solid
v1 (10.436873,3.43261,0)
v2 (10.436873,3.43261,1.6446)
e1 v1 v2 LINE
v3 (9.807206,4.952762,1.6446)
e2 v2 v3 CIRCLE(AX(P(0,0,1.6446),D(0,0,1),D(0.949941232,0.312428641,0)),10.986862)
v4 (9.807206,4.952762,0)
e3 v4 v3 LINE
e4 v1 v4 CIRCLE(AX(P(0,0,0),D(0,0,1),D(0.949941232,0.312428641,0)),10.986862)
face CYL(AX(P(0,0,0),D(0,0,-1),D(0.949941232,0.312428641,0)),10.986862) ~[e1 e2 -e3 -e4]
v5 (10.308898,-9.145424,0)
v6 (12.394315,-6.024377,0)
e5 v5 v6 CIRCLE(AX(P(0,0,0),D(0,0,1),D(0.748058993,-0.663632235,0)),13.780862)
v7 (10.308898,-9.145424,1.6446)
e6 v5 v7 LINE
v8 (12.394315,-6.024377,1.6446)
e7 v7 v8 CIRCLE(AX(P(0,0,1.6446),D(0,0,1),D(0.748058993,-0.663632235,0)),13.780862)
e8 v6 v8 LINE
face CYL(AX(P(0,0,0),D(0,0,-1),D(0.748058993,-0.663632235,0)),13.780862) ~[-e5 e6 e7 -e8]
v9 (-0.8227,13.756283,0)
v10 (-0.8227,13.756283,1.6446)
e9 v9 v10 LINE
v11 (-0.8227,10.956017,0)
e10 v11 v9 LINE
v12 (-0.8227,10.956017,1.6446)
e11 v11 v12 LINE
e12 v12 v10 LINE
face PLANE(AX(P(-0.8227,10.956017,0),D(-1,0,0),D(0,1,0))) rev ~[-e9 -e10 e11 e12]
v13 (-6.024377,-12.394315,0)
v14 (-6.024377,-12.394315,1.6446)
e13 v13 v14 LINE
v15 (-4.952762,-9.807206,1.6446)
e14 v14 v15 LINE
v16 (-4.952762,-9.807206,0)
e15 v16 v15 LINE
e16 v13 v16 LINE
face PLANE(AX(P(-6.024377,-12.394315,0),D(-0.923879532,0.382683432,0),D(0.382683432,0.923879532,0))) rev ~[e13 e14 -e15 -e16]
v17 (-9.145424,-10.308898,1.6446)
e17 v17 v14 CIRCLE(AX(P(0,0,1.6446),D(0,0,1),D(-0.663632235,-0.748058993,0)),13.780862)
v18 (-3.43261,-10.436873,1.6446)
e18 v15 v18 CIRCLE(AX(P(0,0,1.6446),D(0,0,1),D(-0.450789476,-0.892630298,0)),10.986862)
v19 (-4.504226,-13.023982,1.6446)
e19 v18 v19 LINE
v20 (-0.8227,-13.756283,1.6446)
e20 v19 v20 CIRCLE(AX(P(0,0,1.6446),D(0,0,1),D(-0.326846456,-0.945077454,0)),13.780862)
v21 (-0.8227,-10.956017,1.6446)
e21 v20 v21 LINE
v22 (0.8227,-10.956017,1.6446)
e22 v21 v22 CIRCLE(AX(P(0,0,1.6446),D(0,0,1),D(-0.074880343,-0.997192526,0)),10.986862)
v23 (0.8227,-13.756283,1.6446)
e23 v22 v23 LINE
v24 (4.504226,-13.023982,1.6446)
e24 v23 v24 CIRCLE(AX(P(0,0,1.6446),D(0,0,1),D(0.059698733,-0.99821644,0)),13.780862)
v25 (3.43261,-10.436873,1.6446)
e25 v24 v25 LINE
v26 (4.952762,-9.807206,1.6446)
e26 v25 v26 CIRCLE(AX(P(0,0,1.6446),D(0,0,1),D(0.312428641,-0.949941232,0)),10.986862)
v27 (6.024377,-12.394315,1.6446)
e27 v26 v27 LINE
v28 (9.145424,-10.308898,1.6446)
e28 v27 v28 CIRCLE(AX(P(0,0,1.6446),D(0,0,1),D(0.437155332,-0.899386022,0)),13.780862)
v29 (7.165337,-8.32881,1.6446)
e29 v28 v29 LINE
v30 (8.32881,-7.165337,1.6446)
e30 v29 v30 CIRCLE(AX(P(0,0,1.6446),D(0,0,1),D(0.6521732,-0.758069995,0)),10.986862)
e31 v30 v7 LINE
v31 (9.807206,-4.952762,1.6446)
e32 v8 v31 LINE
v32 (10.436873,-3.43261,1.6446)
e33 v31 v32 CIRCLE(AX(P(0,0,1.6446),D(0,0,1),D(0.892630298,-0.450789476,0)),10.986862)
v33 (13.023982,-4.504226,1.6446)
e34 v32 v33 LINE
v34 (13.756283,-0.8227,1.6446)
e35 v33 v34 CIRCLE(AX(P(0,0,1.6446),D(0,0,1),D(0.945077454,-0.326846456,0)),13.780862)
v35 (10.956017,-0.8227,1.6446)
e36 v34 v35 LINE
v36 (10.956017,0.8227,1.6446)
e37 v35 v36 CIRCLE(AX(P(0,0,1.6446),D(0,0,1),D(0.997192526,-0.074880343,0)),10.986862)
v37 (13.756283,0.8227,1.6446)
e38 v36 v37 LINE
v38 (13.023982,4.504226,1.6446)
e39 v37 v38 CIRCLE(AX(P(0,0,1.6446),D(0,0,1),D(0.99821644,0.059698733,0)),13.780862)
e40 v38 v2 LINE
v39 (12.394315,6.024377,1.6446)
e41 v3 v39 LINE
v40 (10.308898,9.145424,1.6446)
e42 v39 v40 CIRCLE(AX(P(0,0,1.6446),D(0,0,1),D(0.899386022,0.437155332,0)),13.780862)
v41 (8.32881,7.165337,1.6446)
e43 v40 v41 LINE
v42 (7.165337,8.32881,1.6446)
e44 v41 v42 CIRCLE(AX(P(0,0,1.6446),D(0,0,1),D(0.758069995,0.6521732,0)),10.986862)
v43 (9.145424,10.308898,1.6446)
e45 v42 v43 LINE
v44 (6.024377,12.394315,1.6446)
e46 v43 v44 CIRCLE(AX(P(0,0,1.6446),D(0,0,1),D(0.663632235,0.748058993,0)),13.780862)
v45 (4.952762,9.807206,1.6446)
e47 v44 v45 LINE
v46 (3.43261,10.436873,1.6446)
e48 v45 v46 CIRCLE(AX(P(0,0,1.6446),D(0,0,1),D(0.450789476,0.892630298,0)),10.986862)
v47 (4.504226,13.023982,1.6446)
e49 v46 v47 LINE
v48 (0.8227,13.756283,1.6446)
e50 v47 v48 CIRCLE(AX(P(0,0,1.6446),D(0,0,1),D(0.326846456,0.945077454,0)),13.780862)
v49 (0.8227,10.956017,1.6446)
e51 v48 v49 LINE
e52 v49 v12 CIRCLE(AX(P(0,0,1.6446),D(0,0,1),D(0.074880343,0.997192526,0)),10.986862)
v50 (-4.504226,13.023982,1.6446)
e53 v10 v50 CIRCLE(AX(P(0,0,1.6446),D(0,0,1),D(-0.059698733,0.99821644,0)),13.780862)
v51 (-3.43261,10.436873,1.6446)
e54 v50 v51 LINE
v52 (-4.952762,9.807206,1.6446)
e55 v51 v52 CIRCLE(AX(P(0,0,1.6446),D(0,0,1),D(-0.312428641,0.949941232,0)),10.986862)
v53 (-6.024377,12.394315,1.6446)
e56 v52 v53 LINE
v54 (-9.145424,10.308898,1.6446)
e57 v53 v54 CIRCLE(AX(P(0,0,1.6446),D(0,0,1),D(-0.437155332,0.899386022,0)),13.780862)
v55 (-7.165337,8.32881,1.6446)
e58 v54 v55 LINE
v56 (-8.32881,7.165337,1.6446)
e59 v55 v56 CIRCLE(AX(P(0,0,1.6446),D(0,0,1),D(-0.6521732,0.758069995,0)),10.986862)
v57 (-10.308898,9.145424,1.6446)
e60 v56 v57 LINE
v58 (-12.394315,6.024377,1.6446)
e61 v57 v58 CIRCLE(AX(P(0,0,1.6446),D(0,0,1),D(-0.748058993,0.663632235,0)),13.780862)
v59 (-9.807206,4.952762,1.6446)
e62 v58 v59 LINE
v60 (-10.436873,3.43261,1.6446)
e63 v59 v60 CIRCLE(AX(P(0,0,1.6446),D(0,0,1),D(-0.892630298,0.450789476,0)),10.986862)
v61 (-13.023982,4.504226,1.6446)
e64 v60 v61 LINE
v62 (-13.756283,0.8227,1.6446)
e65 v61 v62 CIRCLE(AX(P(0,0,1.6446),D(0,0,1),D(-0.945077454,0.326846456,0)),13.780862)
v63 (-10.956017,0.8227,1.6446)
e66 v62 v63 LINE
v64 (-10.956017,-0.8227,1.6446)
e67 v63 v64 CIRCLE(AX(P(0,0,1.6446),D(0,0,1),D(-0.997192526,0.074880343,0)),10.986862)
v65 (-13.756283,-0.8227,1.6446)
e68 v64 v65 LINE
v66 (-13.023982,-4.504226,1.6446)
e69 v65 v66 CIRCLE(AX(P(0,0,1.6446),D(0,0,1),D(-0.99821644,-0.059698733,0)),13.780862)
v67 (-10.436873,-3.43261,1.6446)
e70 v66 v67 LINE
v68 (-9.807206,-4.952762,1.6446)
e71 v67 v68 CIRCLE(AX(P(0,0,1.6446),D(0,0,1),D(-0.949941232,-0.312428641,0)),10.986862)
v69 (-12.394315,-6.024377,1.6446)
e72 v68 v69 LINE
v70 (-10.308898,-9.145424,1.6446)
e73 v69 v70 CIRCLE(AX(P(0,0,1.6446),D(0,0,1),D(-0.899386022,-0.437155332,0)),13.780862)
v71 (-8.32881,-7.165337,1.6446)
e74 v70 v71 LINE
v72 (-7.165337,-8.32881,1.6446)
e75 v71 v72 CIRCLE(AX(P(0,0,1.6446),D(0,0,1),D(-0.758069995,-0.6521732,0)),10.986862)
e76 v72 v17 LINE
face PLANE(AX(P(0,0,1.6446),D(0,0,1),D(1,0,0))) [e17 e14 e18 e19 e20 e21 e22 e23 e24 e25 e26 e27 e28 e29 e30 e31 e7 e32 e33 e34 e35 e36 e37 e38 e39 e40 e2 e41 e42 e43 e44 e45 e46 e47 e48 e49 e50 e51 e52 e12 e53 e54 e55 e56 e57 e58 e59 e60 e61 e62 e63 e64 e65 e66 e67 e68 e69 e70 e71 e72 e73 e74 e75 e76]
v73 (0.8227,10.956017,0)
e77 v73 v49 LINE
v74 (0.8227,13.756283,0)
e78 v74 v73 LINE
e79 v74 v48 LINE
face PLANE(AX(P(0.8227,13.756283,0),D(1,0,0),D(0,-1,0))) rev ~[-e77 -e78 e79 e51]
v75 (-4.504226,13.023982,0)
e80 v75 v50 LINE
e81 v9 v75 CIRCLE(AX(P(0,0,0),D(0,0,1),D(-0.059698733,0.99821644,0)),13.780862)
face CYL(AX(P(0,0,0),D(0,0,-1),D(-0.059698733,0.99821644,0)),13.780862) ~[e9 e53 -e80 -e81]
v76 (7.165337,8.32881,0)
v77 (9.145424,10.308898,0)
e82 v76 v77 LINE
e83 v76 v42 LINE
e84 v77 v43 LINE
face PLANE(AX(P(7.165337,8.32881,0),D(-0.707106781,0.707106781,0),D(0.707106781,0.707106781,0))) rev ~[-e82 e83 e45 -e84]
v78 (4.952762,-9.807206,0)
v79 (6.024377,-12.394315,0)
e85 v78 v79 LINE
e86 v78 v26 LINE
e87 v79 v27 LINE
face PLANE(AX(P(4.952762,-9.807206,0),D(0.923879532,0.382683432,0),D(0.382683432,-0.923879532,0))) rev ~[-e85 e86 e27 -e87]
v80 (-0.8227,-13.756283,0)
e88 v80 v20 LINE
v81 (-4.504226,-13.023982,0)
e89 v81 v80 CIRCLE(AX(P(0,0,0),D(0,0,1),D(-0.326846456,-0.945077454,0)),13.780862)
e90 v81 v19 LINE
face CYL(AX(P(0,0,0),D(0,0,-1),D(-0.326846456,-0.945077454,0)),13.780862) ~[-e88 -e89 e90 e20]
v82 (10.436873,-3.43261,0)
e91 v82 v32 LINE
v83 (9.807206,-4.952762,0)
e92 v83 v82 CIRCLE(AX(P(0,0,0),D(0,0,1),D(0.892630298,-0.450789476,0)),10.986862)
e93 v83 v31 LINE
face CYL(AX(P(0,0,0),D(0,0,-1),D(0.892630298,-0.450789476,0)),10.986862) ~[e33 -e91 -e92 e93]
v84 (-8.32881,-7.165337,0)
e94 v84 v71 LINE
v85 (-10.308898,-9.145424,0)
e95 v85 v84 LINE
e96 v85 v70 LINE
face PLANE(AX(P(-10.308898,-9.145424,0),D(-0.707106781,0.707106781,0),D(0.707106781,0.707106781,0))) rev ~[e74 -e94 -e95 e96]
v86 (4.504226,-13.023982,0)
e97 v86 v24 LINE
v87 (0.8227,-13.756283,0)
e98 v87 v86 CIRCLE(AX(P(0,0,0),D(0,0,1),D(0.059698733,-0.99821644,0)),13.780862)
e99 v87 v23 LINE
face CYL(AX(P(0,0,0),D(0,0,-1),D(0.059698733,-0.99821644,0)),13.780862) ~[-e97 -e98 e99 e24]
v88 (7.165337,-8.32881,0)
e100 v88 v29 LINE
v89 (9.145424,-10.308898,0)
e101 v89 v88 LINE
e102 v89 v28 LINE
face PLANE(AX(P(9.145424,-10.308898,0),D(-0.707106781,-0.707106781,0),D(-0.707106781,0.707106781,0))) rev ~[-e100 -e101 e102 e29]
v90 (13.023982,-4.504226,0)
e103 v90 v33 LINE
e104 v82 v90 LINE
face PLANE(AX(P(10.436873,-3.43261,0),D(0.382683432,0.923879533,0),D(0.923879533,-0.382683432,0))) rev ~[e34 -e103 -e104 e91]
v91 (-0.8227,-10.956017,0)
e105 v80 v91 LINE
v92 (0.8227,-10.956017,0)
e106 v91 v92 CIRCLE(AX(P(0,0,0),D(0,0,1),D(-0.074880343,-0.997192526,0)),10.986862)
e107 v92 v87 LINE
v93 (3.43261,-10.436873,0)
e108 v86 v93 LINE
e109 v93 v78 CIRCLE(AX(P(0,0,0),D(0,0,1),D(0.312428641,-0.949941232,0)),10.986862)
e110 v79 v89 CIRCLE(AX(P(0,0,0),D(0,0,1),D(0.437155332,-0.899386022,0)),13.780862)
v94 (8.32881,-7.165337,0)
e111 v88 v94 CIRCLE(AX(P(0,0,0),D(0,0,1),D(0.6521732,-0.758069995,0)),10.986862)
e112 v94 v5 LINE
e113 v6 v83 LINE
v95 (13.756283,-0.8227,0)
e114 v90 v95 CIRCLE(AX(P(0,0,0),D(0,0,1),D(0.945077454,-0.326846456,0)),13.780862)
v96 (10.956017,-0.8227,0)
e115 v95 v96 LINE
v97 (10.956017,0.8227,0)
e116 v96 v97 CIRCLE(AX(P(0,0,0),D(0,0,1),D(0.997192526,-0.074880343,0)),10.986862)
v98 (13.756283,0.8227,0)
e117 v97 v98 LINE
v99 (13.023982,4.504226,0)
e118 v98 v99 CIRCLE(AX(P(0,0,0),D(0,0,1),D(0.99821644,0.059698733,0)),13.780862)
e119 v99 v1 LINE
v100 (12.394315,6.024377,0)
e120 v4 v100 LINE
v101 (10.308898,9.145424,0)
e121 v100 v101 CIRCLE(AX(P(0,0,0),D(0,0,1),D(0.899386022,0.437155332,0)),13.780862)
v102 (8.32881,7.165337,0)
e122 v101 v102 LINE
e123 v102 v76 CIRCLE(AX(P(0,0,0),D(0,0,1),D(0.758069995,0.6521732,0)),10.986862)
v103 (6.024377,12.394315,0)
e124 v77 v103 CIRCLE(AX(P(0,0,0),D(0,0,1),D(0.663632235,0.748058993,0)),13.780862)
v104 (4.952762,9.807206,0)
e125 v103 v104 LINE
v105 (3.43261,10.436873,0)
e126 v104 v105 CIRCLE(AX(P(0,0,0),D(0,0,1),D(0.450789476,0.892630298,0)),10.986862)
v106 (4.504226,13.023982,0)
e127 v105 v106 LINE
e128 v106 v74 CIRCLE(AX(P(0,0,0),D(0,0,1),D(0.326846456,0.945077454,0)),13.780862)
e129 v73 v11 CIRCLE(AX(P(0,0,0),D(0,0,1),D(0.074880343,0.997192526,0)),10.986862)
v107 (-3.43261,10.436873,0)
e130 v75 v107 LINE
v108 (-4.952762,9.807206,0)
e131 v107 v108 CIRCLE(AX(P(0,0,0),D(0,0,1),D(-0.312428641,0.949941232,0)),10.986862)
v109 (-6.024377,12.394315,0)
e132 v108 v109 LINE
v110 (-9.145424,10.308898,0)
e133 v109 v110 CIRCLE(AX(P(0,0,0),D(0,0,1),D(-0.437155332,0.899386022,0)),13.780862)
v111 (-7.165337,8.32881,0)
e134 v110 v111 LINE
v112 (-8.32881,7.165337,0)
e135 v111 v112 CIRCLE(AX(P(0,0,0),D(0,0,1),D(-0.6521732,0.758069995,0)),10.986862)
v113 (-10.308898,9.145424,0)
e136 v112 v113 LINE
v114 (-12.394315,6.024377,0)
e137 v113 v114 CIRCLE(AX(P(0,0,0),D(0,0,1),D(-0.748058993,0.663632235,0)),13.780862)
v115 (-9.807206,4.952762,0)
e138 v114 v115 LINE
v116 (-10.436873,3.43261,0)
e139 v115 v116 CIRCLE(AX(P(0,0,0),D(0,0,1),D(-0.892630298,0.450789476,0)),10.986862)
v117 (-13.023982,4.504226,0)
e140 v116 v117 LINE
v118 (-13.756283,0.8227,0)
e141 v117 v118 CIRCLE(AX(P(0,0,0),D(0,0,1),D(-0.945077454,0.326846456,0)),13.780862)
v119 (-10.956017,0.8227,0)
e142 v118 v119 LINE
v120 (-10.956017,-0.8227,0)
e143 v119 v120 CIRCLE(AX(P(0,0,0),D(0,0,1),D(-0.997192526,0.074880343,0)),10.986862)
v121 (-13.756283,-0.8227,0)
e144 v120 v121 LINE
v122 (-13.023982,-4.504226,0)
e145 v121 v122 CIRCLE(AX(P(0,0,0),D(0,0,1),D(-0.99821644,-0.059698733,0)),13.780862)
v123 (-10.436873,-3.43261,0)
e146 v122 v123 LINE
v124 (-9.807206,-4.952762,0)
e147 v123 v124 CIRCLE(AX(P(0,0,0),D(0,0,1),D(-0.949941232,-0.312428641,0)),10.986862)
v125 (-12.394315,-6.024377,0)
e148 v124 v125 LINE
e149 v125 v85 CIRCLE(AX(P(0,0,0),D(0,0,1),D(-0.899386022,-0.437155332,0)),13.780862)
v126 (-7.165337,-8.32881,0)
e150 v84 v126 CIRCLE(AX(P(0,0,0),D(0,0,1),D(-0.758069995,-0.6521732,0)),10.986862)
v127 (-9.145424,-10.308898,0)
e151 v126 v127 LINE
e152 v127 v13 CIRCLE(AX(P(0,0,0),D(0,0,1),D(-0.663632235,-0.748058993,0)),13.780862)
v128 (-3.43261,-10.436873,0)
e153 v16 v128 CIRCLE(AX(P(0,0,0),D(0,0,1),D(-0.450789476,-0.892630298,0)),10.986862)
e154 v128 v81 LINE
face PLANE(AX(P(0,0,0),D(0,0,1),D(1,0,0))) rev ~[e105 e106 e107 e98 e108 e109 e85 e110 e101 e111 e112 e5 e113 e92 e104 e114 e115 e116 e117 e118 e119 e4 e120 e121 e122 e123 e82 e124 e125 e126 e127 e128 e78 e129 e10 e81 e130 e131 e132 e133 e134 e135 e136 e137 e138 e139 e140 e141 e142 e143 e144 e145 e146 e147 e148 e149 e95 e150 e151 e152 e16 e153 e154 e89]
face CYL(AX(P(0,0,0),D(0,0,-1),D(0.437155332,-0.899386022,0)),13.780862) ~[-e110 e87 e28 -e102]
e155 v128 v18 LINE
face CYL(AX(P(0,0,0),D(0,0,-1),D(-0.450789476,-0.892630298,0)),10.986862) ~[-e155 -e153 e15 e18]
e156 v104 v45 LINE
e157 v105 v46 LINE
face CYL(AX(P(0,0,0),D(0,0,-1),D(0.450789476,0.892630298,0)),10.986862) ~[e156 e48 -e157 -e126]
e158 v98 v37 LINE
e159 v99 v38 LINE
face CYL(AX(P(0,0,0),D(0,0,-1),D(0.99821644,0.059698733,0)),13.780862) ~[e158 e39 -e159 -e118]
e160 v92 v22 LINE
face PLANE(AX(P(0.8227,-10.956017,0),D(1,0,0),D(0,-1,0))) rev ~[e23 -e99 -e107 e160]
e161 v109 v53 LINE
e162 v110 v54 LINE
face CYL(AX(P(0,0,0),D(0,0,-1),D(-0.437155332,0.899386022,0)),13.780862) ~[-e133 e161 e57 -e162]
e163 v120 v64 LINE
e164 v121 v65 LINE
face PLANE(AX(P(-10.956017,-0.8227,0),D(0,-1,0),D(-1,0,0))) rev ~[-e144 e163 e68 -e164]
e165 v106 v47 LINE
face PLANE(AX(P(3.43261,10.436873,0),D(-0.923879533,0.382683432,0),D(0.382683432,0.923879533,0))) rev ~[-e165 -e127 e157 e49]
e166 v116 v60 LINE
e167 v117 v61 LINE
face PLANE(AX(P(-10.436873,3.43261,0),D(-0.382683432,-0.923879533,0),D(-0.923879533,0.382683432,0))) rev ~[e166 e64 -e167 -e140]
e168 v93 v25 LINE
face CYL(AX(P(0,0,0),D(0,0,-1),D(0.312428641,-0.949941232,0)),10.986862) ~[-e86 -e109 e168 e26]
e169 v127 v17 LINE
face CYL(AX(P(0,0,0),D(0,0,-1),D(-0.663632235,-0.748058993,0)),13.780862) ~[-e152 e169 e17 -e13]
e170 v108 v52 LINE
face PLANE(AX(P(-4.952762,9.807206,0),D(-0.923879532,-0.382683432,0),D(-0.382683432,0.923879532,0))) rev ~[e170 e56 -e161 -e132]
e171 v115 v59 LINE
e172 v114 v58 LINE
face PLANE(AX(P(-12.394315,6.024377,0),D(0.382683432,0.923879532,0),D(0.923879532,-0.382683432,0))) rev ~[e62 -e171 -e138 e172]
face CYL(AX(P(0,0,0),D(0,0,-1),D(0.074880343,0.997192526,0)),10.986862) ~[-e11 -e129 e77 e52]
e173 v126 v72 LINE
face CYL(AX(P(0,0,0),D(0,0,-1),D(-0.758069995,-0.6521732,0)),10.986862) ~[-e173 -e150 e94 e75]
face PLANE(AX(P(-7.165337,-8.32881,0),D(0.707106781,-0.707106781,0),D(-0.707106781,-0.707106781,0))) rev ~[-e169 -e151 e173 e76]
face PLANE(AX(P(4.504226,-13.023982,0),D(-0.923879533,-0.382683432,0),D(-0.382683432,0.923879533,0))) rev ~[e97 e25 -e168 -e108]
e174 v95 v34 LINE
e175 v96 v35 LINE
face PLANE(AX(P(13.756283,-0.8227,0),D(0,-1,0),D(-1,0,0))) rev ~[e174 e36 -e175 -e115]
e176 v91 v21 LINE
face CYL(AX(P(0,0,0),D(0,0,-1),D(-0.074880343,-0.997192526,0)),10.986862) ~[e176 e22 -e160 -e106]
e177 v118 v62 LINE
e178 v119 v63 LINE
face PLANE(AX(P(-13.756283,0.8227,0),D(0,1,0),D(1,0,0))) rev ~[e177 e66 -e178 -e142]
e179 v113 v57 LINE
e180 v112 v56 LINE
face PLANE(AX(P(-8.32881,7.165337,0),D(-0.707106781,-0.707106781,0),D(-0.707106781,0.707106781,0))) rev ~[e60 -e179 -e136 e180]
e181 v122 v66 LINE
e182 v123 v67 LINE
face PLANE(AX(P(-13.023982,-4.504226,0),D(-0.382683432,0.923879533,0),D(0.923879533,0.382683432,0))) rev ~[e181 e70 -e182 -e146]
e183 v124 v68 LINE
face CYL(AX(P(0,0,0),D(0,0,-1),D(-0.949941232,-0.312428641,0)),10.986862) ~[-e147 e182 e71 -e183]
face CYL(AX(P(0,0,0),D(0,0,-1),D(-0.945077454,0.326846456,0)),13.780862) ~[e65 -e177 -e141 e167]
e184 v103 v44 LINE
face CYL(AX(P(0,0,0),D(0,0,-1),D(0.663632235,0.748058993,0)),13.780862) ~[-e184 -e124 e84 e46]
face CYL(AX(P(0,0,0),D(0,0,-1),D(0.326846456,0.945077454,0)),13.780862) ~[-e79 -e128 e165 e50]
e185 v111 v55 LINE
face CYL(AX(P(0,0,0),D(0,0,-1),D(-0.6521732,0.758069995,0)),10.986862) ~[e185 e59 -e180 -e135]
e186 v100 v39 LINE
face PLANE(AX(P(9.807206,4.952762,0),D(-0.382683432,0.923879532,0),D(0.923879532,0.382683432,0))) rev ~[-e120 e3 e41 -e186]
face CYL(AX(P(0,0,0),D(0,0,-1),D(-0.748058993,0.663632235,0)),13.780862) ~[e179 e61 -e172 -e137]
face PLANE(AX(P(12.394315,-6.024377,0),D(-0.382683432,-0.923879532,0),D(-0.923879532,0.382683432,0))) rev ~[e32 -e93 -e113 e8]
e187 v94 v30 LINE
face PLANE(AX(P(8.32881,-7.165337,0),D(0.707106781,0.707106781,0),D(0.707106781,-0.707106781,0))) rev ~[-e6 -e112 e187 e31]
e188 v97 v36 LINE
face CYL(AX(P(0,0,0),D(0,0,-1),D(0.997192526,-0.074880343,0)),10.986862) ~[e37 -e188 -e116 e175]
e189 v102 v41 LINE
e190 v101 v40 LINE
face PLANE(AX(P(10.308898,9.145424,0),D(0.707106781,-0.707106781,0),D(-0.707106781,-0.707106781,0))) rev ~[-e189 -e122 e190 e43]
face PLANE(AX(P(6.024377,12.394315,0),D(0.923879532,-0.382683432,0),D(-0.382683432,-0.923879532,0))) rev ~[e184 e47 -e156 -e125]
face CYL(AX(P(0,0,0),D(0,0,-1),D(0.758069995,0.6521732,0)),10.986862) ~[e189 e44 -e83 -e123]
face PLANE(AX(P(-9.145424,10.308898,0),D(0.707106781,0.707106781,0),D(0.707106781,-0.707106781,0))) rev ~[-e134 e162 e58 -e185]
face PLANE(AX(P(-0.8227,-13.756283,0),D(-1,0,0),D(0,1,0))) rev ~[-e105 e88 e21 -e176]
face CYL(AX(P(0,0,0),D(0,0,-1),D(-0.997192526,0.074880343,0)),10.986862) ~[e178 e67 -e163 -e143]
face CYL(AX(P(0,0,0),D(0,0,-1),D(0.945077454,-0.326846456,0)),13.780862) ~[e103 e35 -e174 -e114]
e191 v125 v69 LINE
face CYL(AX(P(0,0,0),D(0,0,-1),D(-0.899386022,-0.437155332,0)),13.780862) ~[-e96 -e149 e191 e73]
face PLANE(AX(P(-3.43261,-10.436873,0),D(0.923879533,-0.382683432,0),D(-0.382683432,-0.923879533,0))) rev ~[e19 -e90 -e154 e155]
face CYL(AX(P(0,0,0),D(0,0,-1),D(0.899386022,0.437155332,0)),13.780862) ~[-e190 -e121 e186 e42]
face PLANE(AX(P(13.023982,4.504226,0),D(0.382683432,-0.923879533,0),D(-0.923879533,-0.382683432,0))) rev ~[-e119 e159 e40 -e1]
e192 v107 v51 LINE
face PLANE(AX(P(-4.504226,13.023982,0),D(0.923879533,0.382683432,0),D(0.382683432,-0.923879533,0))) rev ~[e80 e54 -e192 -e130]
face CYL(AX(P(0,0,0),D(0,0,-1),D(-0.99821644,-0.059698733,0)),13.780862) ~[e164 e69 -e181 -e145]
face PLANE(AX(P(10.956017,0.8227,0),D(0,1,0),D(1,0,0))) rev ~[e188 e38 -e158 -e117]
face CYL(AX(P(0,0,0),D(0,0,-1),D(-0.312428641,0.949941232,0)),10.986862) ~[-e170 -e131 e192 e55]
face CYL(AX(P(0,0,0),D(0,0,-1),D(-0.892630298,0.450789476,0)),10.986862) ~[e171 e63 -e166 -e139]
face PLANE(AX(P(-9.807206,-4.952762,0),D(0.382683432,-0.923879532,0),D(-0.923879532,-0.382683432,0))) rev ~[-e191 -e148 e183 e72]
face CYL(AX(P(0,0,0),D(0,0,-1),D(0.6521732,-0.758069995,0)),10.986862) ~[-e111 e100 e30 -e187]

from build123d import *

# Parameters (mm, degrees)
BOSS_EXTRUDE1_DEPTH = 1.6446


with BuildPart() as part:
    # Sketch1 → Boss-Extrude1 (new body)
    with BuildSketch(Plane.XY):
        with BuildLine():
            ThreePointArc((-3.43261036, 10.436873188), (-4.204490048, 10.150536896), (-4.952761743, 9.807205869))
            Line((-4.952761743, 9.807205869), (-6.024377274, 12.394314617))
            ThreePointArc((-6.024377274, 12.394314617), (-7.65623669, 11.458367951), (-9.145424221, 10.308897719))
            Line((-9.145424221, 10.308897719), (-7.16533691, 8.328810408))
            ThreePointArc((-7.16533691, 8.328810408), (-7.768884599, 7.768884599), (-8.328810408, 7.16533691))
            Line((-8.328810408, 7.16533691), (-10.308897719, 9.145424221))
            ThreePointArc((-10.308897719, 9.145424221), (-11.458367951, 7.65623669), (-12.394314617, 6.024377274))
            Line((-12.394314617, 6.024377274), (-9.807205869, 4.952761743))
            ThreePointArc((-9.807205869, 4.952761743), (-10.150536896, 4.204490048), (-10.436873188, 3.43261036))
            Line((-10.436873188, 3.43261036), (-13.023981937, 4.504225891))
            ThreePointArc((-13.023981937, 4.504225891), (-13.516066562, 2.688512797), (-13.756282967, 0.8227))
            Line((-13.756282967, 0.8227), (-10.956016637, 0.8227))
            ThreePointArc((-10.956016637, 0.8227), (-10.986861965, 0), (-10.956016637, -0.8227))
            Line((-10.956016637, -0.8227), (-13.756282967, -0.8227))
            ThreePointArc((-13.756282967, -0.8227), (-13.516066562, -2.688512797), (-13.023981937, -4.504225891))
            Line((-13.023981937, -4.504225891), (-10.436873188, -3.43261036))
            ThreePointArc((-10.436873188, -3.43261036), (-10.150536896, -4.204490048), (-9.807205869, -4.952761743))
            Line((-9.807205869, -4.952761743), (-12.394314617, -6.024377274))
            ThreePointArc((-12.394314617, -6.024377274), (-11.458367951, -7.65623669), (-10.308897719, -9.145424221))
            Line((-10.308897719, -9.145424221), (-8.328810408, -7.16533691))
            ThreePointArc((-8.328810408, -7.16533691), (-7.768884599, -7.768884599), (-7.16533691, -8.328810408))
            Line((-7.16533691, -8.328810408), (-9.145424221, -10.308897719))
            ThreePointArc((-9.145424221, -10.308897719), (-7.65623669, -11.458367951), (-6.024377274, -12.394314617))
            Line((-6.024377274, -12.394314617), (-4.952761743, -9.807205869))
            ThreePointArc((-4.952761743, -9.807205869), (-4.204490048, -10.150536896), (-3.43261036, -10.436873188))
            Line((-3.43261036, -10.436873188), (-4.504225891, -13.023981937))
            ThreePointArc((-4.504225891, -13.023981937), (-2.688512797, -13.516066562), (-0.8227, -13.756282967))
            Line((-0.8227, -13.756282967), (-0.8227, -10.956016637))
            ThreePointArc((-0.8227, -10.956016637), (0, -10.986861965), (0.8227, -10.956016637))
            Line((0.8227, -10.956016637), (0.8227, -13.756282967))
            ThreePointArc((0.8227, -13.756282967), (2.688512797, -13.516066562), (4.504225891, -13.023981937))
            Line((4.504225891, -13.023981937), (3.43261036, -10.436873188))
            ThreePointArc((3.43261036, -10.436873188), (4.204490048, -10.150536896), (4.952761743, -9.807205869))
            Line((4.952761743, -9.807205869), (6.024377274, -12.394314617))
            ThreePointArc((6.024377274, -12.394314617), (7.65623669, -11.458367951), (9.145424221, -10.308897719))
            Line((9.145424221, -10.308897719), (7.16533691, -8.328810408))
            ThreePointArc((7.16533691, -8.328810408), (7.768884599, -7.768884599), (8.328810408, -7.16533691))
            Line((8.328810408, -7.16533691), (10.308897719, -9.145424221))
            ThreePointArc((10.308897719, -9.145424221), (11.458367951, -7.65623669), (12.394314617, -6.024377274))
            Line((12.394314617, -6.024377274), (9.807205869, -4.952761743))
            ThreePointArc((9.807205869, -4.952761743), (10.150536896, -4.204490048), (10.436873188, -3.43261036))
            Line((10.436873188, -3.43261036), (13.023981937, -4.504225891))
            ThreePointArc((13.023981937, -4.504225891), (13.516066562, -2.688512797), (13.756282967, -0.8227))
            Line((13.756282967, -0.8227), (10.956016637, -0.8227))
            ThreePointArc((10.956016637, -0.8227), (10.986861965, 0), (10.956016637, 0.8227))
            Line((10.956016637, 0.8227), (13.756282967, 0.8227))
            ThreePointArc((13.756282967, 0.8227), (13.516066562, 2.688512797), (13.023981937, 4.504225891))
            Line((13.023981937, 4.504225891), (10.436873188, 3.43261036))
            ThreePointArc((10.436873188, 3.43261036), (10.150536896, 4.204490048), (9.807205869, 4.952761743))
            Line((9.807205869, 4.952761743), (12.394314617, 6.024377274))
            ThreePointArc((12.394314617, 6.024377274), (11.458367951, 7.65623669), (10.308897719, 9.145424221))
            Line((10.308897719, 9.145424221), (8.328810408, 7.16533691))
            ThreePointArc((8.328810408, 7.16533691), (7.768884599, 7.768884599), (7.16533691, 8.328810408))
            Line((7.16533691, 8.328810408), (9.145424221, 10.308897719))
            ThreePointArc((9.145424221, 10.308897719), (7.65623669, 11.458367951), (6.024377274, 12.394314617))
            Line((6.024377274, 12.394314617), (4.952761743, 9.807205869))
            ThreePointArc((4.952761743, 9.807205869), (4.204490048, 10.150536896), (3.43261036, 10.436873188))
            Line((3.43261036, 10.436873188), (4.504225891, 13.023981937))
            ThreePointArc((4.504225891, 13.023981937), (2.688512797, 13.516066562), (0.8227, 13.756282967))
            Line((0.8227, 13.756282967), (0.8227, 10.956016637))
            ThreePointArc((0.8227, 10.956016637), (0, 10.986861965), (-0.8227, 10.956016637))
            Line((-0.8227, 10.956016637), (-0.8227, 13.756282967))
            ThreePointArc((-0.8227, 13.756282967), (-2.688512797, 13.516066562), (-4.504225891, 13.023981937))
            Line((-4.504225891, 13.023981937), (-3.43261036, 10.436873188))
        make_face()
    extrude(amount=BOSS_EXTRUDE1_DEPTH)


solid = part.part
